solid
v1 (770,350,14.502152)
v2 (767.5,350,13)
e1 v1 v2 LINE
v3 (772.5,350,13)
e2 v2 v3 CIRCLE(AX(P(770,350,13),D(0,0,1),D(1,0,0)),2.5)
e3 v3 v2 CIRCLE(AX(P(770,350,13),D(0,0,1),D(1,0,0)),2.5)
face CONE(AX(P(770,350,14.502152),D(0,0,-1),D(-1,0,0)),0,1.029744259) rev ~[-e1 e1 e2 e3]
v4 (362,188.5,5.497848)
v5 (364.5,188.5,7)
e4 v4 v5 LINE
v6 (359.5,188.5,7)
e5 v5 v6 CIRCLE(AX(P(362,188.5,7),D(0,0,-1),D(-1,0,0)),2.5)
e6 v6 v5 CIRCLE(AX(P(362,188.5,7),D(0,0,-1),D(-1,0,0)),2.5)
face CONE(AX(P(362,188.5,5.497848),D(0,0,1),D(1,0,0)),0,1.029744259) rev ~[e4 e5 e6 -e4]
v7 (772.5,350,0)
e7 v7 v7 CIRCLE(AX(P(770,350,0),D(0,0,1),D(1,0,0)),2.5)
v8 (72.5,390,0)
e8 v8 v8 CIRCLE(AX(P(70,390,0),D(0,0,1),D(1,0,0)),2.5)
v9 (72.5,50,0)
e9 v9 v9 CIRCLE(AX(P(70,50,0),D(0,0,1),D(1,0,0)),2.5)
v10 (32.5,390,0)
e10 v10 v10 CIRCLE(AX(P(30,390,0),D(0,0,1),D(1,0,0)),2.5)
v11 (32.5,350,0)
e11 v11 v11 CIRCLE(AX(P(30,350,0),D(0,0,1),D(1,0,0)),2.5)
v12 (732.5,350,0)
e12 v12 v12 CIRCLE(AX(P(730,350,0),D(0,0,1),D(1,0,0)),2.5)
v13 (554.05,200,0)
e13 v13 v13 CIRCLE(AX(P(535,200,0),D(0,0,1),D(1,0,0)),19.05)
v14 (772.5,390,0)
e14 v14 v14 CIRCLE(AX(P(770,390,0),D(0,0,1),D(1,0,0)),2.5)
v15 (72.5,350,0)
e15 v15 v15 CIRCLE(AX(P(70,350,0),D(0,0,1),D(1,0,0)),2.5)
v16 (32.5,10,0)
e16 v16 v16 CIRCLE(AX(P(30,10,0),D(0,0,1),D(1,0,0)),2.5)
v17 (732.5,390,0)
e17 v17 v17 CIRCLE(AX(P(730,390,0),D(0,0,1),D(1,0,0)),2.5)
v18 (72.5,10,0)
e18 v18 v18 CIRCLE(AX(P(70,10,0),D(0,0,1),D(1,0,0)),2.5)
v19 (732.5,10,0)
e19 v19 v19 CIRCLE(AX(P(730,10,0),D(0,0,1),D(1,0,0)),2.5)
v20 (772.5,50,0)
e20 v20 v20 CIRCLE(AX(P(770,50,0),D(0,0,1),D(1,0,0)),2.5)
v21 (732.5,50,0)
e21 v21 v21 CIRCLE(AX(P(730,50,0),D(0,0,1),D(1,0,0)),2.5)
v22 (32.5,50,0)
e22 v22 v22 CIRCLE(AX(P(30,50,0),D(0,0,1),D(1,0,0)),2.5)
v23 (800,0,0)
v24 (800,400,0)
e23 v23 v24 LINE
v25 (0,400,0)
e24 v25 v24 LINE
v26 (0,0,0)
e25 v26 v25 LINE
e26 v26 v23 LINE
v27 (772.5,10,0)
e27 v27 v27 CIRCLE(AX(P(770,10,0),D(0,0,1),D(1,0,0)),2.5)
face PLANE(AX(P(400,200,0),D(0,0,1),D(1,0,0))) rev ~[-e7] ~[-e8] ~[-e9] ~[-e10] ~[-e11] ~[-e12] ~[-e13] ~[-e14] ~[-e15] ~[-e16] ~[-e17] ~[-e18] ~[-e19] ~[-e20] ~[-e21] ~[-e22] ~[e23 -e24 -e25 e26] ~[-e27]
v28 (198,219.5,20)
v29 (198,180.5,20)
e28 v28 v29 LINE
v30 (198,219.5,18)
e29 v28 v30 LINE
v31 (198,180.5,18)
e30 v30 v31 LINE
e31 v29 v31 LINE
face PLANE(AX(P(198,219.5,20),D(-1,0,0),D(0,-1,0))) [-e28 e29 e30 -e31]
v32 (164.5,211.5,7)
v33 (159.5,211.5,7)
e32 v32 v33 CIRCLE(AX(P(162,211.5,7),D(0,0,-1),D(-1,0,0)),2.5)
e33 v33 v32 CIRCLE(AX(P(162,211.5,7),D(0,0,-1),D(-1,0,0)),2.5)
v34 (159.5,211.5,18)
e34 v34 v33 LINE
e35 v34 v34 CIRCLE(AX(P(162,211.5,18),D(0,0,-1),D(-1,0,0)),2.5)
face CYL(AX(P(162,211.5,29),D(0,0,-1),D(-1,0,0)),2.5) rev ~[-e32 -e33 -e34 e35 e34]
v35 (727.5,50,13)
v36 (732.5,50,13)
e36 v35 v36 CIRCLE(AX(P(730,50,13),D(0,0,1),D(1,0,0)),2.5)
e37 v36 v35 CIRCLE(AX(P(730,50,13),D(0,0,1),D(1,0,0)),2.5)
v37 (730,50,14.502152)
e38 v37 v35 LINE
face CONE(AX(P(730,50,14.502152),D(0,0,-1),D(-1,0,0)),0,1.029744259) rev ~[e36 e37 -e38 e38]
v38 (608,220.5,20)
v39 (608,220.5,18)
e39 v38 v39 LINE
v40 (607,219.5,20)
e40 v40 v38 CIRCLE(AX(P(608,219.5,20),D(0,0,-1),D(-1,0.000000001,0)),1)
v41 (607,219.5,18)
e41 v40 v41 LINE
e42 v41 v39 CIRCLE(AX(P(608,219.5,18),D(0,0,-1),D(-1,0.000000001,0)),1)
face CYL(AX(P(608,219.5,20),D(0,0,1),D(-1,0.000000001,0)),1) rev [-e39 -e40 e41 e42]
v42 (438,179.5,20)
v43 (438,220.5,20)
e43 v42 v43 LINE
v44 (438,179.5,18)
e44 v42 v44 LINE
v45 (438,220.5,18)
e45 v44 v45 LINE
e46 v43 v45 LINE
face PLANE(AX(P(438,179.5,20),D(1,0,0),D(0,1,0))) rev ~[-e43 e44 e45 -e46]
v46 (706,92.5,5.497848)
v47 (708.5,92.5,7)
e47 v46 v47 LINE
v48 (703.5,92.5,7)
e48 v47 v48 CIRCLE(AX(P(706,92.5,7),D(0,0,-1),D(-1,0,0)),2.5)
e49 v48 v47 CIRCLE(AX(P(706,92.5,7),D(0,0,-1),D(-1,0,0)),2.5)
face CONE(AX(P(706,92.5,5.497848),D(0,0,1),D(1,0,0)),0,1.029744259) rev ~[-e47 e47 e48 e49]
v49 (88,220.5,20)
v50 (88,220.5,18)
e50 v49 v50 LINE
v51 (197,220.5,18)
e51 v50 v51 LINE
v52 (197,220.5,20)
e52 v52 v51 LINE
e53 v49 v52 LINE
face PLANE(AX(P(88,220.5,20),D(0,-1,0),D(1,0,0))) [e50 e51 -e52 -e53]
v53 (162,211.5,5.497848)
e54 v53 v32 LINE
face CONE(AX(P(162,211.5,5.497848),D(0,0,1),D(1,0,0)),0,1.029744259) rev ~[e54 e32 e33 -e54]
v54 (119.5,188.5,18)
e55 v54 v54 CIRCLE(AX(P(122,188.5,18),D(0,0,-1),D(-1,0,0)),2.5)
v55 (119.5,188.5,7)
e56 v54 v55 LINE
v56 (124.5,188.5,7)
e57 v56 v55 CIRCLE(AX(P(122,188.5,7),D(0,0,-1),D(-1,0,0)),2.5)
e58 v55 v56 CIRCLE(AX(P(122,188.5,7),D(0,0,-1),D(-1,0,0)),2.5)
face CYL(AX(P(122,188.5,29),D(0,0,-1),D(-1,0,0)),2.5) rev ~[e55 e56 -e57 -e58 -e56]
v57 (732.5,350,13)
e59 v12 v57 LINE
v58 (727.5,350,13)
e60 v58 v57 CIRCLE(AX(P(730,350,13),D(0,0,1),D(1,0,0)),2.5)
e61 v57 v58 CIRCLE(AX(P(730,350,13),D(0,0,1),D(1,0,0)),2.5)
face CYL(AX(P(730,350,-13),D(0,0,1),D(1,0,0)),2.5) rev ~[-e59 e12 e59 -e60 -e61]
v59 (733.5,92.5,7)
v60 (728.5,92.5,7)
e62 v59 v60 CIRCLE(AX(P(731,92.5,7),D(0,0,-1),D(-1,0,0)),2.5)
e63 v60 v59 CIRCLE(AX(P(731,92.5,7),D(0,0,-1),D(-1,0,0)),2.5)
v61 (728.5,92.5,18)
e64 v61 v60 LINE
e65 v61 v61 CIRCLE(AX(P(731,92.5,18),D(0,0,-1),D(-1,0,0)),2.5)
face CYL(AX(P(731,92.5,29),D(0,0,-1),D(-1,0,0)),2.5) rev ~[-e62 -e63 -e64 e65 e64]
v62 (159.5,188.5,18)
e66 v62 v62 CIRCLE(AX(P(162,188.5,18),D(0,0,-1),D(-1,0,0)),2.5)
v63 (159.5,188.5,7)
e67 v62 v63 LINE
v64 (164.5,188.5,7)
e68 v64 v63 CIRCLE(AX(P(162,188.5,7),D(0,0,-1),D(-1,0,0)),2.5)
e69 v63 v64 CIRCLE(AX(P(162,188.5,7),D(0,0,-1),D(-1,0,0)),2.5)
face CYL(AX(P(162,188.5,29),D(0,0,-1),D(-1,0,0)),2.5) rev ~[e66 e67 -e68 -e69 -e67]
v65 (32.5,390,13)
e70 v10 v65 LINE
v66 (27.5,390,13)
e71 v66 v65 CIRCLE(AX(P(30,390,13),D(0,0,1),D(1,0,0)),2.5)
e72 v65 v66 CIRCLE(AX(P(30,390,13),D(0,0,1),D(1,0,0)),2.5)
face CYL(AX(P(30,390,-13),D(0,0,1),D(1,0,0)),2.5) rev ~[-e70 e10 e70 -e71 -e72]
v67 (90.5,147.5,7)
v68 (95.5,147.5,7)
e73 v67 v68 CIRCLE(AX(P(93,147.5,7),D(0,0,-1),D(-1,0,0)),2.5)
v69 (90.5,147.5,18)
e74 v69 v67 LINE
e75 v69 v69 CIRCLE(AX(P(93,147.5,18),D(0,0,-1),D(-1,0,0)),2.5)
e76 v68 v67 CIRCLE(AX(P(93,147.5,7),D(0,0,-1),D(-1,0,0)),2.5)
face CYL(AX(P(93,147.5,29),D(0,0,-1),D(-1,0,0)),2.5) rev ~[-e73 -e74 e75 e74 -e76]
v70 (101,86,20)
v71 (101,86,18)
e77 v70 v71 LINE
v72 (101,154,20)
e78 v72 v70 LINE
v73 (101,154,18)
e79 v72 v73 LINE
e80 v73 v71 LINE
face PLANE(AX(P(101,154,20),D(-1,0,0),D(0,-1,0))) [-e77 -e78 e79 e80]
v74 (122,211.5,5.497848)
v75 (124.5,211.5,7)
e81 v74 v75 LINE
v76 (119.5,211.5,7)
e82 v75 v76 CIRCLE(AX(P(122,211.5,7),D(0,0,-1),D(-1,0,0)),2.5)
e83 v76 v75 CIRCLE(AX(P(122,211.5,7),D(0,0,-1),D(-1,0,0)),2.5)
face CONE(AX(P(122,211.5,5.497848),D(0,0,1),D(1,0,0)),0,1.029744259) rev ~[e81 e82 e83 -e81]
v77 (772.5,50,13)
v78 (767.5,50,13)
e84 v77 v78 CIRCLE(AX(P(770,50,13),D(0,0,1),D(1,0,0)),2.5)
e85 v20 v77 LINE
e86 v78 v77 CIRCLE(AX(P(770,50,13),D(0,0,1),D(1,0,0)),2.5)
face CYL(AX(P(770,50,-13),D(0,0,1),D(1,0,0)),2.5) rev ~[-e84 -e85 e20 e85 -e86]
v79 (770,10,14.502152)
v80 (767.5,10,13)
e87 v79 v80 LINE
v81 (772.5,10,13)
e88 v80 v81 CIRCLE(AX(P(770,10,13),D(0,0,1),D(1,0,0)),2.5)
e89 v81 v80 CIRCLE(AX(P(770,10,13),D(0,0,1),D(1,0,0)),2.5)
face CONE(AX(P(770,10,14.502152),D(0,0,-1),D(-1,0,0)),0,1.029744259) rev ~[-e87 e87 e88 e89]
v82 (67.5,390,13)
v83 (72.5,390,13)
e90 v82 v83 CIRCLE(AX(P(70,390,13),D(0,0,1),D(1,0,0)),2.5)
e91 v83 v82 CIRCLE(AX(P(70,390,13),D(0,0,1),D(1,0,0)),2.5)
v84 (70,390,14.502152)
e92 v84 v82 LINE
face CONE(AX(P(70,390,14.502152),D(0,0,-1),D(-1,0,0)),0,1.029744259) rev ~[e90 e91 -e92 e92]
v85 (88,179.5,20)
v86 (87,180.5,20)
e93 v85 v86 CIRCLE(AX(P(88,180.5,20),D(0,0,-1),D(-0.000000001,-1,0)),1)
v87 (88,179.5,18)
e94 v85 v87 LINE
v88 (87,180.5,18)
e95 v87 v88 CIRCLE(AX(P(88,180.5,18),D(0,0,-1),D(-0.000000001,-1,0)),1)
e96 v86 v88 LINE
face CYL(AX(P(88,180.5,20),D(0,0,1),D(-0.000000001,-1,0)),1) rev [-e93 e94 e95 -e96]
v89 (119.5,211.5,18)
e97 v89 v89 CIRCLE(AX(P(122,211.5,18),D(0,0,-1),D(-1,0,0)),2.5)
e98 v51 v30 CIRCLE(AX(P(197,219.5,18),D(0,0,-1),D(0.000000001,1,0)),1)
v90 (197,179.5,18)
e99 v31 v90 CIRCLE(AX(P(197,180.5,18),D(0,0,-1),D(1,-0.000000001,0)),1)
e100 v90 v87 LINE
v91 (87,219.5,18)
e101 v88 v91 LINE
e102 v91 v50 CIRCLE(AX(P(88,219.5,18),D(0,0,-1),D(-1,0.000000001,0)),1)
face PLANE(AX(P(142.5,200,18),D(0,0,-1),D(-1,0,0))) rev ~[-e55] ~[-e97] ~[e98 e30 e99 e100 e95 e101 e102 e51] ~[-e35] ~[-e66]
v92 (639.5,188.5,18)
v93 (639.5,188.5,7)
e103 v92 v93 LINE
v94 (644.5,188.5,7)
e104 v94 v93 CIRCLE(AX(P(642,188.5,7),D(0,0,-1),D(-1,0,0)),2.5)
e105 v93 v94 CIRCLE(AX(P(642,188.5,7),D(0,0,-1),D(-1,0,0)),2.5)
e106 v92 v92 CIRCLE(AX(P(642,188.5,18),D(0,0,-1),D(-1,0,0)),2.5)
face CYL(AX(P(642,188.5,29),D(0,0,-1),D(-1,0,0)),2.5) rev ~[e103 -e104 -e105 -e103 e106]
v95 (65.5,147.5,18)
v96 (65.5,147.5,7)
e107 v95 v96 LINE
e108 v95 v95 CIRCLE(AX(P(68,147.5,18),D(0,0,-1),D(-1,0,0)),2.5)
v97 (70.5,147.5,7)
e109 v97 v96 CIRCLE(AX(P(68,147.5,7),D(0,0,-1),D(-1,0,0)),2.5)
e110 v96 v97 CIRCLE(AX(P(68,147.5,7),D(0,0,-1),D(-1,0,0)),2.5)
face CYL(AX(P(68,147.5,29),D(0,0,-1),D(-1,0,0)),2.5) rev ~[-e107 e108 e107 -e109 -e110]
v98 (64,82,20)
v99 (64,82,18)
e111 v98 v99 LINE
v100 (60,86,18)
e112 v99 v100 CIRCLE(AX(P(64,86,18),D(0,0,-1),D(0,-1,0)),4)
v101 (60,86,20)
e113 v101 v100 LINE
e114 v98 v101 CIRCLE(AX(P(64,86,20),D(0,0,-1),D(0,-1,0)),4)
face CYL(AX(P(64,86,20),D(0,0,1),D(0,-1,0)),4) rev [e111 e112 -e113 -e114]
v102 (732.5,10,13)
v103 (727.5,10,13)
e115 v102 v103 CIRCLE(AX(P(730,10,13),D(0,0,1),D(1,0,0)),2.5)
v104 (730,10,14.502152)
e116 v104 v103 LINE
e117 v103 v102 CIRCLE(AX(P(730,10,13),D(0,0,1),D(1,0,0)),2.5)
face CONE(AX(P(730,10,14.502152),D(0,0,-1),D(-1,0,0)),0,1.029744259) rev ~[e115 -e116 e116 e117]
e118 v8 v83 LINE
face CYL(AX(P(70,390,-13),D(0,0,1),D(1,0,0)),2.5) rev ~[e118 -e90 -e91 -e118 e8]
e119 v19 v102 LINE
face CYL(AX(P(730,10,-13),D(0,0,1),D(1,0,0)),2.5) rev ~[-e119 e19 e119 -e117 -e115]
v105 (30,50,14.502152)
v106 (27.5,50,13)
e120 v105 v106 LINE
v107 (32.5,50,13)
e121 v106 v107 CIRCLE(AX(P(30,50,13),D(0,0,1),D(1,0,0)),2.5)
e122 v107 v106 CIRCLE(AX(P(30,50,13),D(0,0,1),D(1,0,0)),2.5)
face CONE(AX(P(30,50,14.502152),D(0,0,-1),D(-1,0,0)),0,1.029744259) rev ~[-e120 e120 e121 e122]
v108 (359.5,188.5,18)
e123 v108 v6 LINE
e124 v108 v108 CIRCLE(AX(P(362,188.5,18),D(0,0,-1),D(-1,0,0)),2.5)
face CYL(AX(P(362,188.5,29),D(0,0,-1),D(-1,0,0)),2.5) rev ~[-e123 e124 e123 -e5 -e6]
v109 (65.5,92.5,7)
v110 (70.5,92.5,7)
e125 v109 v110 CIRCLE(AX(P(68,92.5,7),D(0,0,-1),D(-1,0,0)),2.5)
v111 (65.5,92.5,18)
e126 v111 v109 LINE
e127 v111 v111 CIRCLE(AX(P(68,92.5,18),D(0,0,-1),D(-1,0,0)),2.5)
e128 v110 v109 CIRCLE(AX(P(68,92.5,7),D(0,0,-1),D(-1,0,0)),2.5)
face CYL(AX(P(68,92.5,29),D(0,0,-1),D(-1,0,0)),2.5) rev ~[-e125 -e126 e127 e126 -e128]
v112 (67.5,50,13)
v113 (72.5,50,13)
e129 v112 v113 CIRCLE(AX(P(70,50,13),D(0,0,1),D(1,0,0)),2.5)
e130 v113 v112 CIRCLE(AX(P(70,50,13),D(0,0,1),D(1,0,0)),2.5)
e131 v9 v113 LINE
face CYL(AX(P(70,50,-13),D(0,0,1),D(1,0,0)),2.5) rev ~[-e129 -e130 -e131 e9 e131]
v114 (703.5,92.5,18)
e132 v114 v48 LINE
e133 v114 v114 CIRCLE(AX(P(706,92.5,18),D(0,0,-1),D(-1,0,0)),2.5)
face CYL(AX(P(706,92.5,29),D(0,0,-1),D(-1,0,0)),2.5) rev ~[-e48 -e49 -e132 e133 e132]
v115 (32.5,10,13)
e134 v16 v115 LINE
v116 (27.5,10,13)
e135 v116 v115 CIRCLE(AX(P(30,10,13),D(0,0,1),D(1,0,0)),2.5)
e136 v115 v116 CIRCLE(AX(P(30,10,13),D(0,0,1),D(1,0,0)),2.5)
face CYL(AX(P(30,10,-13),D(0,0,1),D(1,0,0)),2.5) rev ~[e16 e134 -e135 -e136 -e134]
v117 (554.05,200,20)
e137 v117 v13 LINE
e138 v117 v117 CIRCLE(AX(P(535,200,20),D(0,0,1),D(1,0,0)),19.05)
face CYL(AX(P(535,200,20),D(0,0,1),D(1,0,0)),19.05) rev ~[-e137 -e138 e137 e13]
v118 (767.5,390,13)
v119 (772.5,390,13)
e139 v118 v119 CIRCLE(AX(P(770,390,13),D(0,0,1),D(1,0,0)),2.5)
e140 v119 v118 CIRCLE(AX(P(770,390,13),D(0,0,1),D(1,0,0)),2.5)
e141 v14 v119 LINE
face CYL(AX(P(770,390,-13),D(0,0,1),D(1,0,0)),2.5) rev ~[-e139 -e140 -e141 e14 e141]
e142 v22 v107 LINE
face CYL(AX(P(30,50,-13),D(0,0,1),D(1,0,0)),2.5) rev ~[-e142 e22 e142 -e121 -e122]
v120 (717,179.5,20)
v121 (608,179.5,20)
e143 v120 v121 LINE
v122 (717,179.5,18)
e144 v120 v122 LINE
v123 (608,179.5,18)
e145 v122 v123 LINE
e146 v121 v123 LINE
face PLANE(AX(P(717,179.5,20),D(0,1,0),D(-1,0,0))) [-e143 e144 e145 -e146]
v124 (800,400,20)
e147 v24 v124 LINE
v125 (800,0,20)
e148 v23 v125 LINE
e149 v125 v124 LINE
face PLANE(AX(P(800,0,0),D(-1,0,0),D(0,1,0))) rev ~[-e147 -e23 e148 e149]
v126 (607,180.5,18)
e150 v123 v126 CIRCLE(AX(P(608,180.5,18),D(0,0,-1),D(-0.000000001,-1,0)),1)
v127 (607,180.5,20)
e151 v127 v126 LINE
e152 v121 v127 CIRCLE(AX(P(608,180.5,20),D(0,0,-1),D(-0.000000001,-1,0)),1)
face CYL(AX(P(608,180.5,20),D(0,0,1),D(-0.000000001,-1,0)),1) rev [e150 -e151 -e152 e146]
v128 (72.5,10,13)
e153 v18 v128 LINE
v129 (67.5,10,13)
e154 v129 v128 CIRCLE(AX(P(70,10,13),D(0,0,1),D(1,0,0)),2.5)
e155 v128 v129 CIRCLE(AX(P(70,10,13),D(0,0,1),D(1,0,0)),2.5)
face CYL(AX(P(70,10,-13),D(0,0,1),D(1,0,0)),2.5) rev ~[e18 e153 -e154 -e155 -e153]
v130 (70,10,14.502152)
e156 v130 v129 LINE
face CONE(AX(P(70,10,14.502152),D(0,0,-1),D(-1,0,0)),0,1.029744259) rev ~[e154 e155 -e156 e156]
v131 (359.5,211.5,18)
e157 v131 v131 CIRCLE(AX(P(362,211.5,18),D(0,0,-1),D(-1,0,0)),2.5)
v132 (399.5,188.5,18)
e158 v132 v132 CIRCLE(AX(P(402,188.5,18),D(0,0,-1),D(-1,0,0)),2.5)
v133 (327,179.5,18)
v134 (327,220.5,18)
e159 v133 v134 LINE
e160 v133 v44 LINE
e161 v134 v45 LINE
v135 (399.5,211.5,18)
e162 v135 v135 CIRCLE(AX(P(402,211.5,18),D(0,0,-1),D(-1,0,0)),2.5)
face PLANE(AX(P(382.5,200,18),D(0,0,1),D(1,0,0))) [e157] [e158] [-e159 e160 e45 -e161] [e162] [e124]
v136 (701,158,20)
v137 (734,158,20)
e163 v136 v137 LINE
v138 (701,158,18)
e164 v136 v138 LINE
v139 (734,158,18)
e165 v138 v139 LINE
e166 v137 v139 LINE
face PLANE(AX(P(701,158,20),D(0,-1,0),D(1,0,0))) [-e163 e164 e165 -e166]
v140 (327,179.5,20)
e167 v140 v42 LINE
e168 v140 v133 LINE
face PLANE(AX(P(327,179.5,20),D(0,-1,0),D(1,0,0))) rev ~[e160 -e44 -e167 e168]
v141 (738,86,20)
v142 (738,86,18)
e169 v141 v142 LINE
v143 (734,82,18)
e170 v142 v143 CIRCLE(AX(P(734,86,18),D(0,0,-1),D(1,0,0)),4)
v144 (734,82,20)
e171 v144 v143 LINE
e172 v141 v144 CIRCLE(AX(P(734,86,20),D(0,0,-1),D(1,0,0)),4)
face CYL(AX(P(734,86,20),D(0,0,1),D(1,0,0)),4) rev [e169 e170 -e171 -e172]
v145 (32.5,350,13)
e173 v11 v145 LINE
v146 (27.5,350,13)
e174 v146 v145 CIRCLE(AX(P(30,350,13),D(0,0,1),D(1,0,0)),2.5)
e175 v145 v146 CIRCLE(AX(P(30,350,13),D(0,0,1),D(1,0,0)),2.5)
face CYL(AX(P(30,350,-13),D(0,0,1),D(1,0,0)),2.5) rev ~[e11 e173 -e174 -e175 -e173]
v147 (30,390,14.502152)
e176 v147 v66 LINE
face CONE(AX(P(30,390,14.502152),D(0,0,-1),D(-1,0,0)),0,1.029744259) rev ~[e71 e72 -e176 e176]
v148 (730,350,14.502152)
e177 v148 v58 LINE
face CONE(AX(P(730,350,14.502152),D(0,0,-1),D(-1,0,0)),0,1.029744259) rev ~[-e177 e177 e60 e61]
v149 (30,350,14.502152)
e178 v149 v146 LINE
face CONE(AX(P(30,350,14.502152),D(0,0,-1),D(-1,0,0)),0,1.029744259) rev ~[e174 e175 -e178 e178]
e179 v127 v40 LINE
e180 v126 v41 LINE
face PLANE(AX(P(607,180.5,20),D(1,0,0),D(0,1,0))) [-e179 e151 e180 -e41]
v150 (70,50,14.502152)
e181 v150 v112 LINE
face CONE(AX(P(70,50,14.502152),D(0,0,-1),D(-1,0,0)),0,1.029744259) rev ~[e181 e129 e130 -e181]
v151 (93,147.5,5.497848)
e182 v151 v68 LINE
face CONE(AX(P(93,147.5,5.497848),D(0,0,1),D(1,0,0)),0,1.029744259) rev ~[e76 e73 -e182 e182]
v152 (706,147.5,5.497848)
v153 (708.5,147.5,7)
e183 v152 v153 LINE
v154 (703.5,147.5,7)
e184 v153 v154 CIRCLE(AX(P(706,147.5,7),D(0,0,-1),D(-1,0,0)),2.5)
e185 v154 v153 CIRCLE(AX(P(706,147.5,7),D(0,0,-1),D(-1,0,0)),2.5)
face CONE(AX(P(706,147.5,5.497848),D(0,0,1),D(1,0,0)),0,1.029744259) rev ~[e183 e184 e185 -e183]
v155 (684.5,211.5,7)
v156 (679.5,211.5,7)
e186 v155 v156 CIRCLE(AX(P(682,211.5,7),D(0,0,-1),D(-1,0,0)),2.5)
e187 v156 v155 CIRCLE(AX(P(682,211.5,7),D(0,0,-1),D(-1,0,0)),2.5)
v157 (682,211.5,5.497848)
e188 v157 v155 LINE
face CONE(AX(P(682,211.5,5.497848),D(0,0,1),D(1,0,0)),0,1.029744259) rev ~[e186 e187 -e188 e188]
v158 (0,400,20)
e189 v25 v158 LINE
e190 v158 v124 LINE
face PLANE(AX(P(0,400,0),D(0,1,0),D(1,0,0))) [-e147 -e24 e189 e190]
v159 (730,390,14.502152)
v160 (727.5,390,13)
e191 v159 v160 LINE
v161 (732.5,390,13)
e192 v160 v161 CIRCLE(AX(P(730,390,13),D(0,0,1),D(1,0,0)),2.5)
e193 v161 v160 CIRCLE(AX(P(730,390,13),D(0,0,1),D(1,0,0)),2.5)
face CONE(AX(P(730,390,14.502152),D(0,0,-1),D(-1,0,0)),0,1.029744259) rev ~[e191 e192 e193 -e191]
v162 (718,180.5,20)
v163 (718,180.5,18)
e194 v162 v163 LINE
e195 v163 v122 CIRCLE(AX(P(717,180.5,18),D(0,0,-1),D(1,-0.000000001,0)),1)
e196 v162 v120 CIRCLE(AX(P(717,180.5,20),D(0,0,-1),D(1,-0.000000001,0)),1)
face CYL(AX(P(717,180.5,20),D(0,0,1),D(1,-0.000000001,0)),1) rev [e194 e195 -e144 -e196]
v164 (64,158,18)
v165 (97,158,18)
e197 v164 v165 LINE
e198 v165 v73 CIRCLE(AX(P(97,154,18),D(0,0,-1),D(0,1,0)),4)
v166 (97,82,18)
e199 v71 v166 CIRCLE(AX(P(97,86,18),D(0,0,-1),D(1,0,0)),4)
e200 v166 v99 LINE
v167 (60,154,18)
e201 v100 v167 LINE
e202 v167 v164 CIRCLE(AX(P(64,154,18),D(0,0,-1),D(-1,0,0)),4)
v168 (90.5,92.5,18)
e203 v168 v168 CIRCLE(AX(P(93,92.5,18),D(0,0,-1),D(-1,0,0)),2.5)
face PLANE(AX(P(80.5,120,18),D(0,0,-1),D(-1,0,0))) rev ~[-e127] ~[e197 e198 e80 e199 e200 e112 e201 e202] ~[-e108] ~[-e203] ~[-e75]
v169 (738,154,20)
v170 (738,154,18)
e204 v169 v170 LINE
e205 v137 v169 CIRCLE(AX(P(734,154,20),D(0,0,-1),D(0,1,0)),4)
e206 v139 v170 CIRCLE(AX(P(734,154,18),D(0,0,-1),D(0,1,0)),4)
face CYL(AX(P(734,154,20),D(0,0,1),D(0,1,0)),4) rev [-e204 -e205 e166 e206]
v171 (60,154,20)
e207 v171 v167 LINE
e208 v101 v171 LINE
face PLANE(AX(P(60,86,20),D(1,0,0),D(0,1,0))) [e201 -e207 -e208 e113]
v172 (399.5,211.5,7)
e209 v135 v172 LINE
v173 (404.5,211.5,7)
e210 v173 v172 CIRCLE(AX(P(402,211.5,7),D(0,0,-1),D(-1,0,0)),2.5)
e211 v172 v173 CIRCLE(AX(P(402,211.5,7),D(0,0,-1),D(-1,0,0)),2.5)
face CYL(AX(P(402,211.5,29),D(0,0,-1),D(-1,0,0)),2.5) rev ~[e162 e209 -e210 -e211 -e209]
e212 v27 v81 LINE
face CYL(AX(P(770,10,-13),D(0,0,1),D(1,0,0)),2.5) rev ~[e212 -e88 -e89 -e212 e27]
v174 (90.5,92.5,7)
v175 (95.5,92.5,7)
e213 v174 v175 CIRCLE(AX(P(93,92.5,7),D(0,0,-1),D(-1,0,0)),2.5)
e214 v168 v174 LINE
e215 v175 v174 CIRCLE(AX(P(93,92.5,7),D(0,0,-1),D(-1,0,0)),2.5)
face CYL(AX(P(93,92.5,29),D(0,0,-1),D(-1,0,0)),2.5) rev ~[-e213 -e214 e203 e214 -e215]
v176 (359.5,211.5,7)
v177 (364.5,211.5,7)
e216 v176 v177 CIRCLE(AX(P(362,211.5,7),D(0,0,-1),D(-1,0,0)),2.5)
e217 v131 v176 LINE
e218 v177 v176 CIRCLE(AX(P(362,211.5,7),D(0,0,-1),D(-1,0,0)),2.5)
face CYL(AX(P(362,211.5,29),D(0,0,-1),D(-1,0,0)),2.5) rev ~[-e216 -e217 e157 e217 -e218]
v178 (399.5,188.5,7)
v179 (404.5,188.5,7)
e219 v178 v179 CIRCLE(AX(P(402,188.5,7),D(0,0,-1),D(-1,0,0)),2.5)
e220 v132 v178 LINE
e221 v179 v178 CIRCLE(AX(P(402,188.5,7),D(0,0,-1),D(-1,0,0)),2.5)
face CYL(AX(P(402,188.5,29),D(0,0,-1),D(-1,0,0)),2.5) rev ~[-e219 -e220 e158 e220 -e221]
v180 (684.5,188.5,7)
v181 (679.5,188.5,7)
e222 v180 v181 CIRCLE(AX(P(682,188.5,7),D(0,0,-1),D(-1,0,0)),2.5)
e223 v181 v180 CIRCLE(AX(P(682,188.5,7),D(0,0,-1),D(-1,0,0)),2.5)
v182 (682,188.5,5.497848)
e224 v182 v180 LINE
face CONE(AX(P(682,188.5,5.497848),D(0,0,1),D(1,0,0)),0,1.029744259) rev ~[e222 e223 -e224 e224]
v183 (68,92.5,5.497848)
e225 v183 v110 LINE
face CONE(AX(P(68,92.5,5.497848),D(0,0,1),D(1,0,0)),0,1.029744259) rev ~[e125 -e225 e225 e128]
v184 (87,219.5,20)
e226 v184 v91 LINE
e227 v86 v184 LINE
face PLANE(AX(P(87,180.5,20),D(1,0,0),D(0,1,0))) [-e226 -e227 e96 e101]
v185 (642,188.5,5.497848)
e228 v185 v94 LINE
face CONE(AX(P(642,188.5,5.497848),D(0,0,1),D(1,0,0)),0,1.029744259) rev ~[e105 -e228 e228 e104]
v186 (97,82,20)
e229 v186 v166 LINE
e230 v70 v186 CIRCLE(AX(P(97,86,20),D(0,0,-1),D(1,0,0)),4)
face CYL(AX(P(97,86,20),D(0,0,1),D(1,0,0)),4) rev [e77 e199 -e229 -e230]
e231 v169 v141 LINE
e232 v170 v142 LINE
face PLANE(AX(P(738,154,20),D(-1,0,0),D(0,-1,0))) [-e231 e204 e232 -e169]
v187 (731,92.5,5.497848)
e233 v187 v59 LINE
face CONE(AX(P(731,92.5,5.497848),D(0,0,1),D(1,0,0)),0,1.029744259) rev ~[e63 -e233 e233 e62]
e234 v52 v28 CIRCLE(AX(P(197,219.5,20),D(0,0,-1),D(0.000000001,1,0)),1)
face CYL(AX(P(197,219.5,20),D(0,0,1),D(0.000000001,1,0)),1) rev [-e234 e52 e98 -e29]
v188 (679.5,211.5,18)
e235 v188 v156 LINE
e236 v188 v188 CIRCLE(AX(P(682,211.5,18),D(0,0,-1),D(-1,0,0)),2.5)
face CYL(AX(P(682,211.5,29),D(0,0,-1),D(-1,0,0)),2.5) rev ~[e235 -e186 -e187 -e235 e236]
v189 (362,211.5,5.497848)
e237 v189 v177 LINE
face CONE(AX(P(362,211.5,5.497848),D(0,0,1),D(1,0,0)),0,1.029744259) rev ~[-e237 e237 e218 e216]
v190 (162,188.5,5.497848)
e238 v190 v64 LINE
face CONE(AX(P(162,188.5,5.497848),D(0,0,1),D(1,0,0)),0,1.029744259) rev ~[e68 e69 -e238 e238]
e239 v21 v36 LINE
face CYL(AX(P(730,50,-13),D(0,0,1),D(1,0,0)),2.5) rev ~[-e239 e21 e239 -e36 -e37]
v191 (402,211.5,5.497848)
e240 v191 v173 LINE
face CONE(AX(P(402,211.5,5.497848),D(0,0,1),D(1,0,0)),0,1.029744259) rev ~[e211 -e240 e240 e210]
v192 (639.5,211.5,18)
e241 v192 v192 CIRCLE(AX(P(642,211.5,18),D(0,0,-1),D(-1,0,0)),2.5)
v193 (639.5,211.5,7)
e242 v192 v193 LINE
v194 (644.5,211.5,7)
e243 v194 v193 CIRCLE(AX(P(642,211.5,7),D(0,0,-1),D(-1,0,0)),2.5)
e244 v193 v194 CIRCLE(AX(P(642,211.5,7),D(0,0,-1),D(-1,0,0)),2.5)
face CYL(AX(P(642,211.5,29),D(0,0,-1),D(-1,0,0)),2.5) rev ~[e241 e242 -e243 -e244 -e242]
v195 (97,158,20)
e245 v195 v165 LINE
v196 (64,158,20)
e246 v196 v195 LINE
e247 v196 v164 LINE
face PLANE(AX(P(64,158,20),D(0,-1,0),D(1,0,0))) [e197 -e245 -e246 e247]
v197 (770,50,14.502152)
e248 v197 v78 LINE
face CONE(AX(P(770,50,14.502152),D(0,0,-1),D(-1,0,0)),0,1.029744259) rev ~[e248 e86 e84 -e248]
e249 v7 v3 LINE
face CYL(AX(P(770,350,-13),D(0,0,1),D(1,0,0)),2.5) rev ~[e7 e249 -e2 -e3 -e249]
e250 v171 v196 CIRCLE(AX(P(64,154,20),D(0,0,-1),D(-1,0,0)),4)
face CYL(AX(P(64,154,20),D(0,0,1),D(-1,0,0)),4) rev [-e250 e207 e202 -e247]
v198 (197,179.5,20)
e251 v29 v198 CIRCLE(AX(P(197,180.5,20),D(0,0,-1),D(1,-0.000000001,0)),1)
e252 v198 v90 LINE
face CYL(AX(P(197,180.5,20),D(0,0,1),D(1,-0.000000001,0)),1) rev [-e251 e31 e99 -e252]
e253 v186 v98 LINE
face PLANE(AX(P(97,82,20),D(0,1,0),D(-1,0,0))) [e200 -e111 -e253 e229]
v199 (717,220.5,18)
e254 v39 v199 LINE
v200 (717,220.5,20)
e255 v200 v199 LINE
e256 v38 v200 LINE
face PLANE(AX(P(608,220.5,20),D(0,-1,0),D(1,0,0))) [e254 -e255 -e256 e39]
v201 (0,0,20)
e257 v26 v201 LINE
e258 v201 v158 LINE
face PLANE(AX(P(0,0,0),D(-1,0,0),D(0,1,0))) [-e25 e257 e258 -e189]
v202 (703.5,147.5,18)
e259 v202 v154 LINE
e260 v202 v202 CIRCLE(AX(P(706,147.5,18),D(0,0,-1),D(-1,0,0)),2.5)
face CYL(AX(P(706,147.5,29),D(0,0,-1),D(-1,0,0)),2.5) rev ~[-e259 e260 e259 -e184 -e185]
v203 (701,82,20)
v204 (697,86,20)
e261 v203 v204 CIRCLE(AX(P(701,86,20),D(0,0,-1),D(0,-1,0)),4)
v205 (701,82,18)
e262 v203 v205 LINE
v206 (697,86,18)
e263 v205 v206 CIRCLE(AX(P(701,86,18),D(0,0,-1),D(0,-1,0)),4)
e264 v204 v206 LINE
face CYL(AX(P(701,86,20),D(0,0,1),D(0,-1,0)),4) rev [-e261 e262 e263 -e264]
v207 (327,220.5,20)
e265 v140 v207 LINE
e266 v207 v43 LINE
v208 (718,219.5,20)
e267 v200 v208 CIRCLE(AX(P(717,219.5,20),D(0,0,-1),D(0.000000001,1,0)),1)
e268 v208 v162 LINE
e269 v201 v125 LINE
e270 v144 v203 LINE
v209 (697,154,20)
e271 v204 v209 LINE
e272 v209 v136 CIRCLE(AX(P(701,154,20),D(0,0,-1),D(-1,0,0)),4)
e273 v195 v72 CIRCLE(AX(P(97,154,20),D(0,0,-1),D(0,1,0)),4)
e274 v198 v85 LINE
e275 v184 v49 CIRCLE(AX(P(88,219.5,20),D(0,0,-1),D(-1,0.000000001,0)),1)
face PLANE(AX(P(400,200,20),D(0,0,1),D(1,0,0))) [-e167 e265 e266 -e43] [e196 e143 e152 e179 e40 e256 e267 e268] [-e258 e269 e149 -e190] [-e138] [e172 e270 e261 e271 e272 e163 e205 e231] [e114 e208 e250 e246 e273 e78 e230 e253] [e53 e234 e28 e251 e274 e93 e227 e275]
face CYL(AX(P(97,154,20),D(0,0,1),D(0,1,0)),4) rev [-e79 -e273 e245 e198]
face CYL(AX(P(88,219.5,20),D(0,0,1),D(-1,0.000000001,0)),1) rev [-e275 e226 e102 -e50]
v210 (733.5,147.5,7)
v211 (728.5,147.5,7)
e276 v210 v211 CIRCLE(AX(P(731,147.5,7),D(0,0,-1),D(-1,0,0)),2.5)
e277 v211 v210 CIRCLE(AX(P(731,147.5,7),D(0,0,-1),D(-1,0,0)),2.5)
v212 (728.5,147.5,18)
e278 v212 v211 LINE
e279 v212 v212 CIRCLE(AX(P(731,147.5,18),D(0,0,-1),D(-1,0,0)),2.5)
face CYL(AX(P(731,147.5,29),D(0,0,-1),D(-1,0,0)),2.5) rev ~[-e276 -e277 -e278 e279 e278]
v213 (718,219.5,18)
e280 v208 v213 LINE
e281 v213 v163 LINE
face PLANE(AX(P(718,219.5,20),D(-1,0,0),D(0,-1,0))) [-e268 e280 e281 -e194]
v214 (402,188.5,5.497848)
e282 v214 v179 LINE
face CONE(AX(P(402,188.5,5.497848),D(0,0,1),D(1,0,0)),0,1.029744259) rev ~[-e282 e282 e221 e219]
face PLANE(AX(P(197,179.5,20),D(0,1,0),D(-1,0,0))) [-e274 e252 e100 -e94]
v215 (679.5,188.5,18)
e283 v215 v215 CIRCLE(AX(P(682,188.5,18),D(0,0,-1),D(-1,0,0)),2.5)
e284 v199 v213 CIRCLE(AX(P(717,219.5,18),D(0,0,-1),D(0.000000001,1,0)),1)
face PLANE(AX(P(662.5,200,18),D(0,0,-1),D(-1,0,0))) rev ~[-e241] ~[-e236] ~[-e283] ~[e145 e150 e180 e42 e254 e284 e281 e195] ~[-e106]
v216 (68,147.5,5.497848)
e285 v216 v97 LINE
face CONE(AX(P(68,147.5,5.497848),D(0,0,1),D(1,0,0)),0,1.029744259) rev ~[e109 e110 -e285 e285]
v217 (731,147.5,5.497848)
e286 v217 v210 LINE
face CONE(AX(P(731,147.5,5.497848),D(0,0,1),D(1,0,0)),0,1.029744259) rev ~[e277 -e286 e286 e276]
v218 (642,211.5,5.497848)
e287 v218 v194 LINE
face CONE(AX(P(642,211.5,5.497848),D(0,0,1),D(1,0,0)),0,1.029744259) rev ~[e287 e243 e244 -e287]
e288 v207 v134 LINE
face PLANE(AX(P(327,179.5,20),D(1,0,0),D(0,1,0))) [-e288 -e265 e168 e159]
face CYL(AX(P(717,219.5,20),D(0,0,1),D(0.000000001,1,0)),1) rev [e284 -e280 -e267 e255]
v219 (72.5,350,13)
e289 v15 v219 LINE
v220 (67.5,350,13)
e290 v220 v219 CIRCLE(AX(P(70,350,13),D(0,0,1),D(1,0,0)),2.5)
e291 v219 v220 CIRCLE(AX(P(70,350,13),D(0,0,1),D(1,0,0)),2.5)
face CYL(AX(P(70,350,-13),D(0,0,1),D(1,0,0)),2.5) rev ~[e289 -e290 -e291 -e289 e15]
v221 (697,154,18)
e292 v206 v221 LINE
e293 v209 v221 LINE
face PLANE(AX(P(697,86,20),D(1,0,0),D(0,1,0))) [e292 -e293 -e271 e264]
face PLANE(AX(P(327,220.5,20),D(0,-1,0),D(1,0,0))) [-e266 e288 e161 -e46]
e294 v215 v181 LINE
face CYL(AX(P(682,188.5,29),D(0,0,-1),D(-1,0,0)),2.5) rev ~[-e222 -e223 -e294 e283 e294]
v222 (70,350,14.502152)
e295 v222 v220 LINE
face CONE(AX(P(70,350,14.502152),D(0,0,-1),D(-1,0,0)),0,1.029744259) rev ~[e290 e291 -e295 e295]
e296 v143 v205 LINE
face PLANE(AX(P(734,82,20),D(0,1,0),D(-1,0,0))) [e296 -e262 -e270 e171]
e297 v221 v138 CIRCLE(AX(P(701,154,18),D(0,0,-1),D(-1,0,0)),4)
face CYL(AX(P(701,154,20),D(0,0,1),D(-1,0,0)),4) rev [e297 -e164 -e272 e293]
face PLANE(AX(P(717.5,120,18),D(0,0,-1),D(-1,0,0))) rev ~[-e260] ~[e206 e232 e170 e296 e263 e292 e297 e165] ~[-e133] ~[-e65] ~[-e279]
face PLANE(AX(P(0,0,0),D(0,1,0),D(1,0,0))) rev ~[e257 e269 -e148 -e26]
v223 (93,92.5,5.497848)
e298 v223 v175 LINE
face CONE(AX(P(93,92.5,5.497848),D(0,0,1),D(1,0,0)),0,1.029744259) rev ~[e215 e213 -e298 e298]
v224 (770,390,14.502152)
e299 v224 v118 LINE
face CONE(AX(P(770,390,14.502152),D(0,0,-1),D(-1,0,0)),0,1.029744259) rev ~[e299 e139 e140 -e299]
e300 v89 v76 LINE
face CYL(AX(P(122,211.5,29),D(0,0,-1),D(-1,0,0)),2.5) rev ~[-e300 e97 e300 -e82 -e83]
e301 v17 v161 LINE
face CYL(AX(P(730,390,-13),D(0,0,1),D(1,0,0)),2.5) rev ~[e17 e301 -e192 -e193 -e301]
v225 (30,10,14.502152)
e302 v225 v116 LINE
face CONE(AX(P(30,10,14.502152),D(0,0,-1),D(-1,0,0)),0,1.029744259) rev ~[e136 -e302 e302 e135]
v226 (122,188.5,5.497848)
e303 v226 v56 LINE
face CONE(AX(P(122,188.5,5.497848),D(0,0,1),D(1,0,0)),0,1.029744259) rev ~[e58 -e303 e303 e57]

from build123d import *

# Parameters (mm, degrees)
SKETCH_1_W             = 800
SKETCH_1_H             = 400
EXTRUDE_1_DEPTH        = 20
SKETCH_2_W             = 111
SKETCH_2_H             = 41
CUT_EXTRUDE_1_DEPTH    = 2
HOLE_WIZARD_M6_2_D     = 5
HOLE_WIZARD_M6_2_DEPTH = 11
HOLE_WIZARD_M6_2_TIP   = 1.502151548
SKETCH_11_R            = 19.05
CUT_EXTRUDE_2_DEPTH    = 895.650769854
HOLE_WIZARD_M6_3_D     = 5
HOLE_WIZARD_M6_3_DEPTH = 13
HOLE_WIZARD_M6_3_TIP   = 1.502151548


with BuildPart() as part:
    # 스케치1 → 보스-돌출1 (new body)
    with BuildSketch(Plane.XY):
        with Locations((400, 200)):
            Rectangle(SKETCH_1_W, SKETCH_1_H)
    extrude(amount=EXTRUDE_1_DEPTH)

    # 스케치2 → 컷-돌출1 (cut)
    with BuildSketch(Plane.XY.offset(20)):
        with BuildLine():
            Line((64, 158), (97, 158))
            ThreePointArc((97, 158), (99.828427125, 156.828427125), (101, 154))
            Line((101, 154), (101, 86))
            ThreePointArc((101, 86), (99.828427125, 83.171572875), (97, 82))
            Line((97, 82), (64, 82))
            ThreePointArc((64, 82), (61.171572875, 83.171572875), (60, 86))
            Line((60, 86), (60, 154))
            ThreePointArc((60, 154), (61.171572875, 156.828427125), (64, 158))
        make_face()
        with BuildLine():
            Line((88, 220.5), (197, 220.5))
            ThreePointArc((197, 220.5), (197.707106781, 220.207106781), (198, 219.5))
            Line((198, 219.5), (198, 180.5))
            ThreePointArc((198, 180.5), (197.707106781, 179.792893219), (197, 179.5))
            Line((197, 179.5), (88, 179.5))
            ThreePointArc((88, 179.5), (87.292893219, 179.792893219), (87, 180.5))
            Line((87, 180.5), (87, 219.5))
            ThreePointArc((87, 219.5), (87.292893219, 220.207106781), (88, 220.5))
        make_face()
        with Locations((382.5, 200)):
            Rectangle(SKETCH_2_W, SKETCH_2_H)
        with BuildLine():
            Line((608, 220.5), (717, 220.5))
            ThreePointArc((717, 220.5), (717.707106781, 220.207106781), (718, 219.5))
            Line((718, 219.5), (718, 180.5))
            ThreePointArc((718, 180.5), (717.707106781, 179.792893219), (717, 179.5))
            Line((717, 179.5), (608, 179.5))
            ThreePointArc((608, 179.5), (607.292893219, 179.792893219), (607, 180.5))
            Line((607, 180.5), (607, 219.5))
            ThreePointArc((607, 219.5), (607.292893219, 220.207106781), (608, 220.5))
        make_face()
        with BuildLine():
            Line((701, 158), (734, 158))
            ThreePointArc((734, 158), (736.828427125, 156.828427125), (738, 154))
            Line((738, 154), (738, 86))
            ThreePointArc((738, 86), (736.828427125, 83.171572875), (734, 82))
            Line((734, 82), (701, 82))
            ThreePointArc((701, 82), (698.171572875, 83.171572875), (697, 86))
            Line((697, 86), (697, 154))
            ThreePointArc((697, 154), (698.171572875, 156.828427125), (701, 158))
        make_face()
    extrude(amount=-CUT_EXTRUDE_1_DEPTH, mode=Mode.SUBTRACT)

    # M6 나사 구멍2
    with Locations(Plane.XY.offset(18)):
        with Locations((162, 188.5), (162, 211.5), (122, 211.5), (122, 188.5), (93, 92.5), (68, 92.5), (68, 147.5), (93, 147.5), (362, 211.5), (402, 211.5), (402, 188.5), (362, 188.5), (642, 211.5), (682, 211.5), (682, 188.5), (642, 188.5), (706, 92.5), (731, 92.5), (731, 147.5), (706, 147.5)):
            Hole(HOLE_WIZARD_M6_2_D / 2, depth=HOLE_WIZARD_M6_2_DEPTH)
            with Locations((0, 0, -(HOLE_WIZARD_M6_2_DEPTH + HOLE_WIZARD_M6_2_TIP / 2))):  # 118° drill point
                Cone(0, HOLE_WIZARD_M6_2_D / 2, HOLE_WIZARD_M6_2_TIP, mode=Mode.SUBTRACT)

    # 스케치11 → 컷-돌출2 (cut, through all)
    with BuildSketch(Plane.XY.offset(20)):
        with Locations((535, 200)):
            Circle(SKETCH_11_R)
    extrude(amount=-CUT_EXTRUDE_2_DEPTH, mode=Mode.SUBTRACT)

    # M6 나사 구멍3
    with Locations(Plane(origin=(0, 0, 0), x_dir=(-1, 0, 0), z_dir=(0, 0, -1))):
        with Locations((-30, 10), (-70, 10), (-30, 50), (-70, 50), (-730, 10), (-770, 10), (-730, 50), (-770, 50), (-730, 390), (-770, 390), (-730, 350), (-770, 350), (-30, 390), (-70, 390), (-30, 350), (-70, 350)):
            Hole(HOLE_WIZARD_M6_3_D / 2, depth=HOLE_WIZARD_M6_3_DEPTH)
            with Locations((0, 0, -(HOLE_WIZARD_M6_3_DEPTH + HOLE_WIZARD_M6_3_TIP / 2))):  # 118° drill point
                Cone(0, HOLE_WIZARD_M6_3_D / 2, HOLE_WIZARD_M6_3_TIP, mode=Mode.SUBTRACT)


solid = part.part
